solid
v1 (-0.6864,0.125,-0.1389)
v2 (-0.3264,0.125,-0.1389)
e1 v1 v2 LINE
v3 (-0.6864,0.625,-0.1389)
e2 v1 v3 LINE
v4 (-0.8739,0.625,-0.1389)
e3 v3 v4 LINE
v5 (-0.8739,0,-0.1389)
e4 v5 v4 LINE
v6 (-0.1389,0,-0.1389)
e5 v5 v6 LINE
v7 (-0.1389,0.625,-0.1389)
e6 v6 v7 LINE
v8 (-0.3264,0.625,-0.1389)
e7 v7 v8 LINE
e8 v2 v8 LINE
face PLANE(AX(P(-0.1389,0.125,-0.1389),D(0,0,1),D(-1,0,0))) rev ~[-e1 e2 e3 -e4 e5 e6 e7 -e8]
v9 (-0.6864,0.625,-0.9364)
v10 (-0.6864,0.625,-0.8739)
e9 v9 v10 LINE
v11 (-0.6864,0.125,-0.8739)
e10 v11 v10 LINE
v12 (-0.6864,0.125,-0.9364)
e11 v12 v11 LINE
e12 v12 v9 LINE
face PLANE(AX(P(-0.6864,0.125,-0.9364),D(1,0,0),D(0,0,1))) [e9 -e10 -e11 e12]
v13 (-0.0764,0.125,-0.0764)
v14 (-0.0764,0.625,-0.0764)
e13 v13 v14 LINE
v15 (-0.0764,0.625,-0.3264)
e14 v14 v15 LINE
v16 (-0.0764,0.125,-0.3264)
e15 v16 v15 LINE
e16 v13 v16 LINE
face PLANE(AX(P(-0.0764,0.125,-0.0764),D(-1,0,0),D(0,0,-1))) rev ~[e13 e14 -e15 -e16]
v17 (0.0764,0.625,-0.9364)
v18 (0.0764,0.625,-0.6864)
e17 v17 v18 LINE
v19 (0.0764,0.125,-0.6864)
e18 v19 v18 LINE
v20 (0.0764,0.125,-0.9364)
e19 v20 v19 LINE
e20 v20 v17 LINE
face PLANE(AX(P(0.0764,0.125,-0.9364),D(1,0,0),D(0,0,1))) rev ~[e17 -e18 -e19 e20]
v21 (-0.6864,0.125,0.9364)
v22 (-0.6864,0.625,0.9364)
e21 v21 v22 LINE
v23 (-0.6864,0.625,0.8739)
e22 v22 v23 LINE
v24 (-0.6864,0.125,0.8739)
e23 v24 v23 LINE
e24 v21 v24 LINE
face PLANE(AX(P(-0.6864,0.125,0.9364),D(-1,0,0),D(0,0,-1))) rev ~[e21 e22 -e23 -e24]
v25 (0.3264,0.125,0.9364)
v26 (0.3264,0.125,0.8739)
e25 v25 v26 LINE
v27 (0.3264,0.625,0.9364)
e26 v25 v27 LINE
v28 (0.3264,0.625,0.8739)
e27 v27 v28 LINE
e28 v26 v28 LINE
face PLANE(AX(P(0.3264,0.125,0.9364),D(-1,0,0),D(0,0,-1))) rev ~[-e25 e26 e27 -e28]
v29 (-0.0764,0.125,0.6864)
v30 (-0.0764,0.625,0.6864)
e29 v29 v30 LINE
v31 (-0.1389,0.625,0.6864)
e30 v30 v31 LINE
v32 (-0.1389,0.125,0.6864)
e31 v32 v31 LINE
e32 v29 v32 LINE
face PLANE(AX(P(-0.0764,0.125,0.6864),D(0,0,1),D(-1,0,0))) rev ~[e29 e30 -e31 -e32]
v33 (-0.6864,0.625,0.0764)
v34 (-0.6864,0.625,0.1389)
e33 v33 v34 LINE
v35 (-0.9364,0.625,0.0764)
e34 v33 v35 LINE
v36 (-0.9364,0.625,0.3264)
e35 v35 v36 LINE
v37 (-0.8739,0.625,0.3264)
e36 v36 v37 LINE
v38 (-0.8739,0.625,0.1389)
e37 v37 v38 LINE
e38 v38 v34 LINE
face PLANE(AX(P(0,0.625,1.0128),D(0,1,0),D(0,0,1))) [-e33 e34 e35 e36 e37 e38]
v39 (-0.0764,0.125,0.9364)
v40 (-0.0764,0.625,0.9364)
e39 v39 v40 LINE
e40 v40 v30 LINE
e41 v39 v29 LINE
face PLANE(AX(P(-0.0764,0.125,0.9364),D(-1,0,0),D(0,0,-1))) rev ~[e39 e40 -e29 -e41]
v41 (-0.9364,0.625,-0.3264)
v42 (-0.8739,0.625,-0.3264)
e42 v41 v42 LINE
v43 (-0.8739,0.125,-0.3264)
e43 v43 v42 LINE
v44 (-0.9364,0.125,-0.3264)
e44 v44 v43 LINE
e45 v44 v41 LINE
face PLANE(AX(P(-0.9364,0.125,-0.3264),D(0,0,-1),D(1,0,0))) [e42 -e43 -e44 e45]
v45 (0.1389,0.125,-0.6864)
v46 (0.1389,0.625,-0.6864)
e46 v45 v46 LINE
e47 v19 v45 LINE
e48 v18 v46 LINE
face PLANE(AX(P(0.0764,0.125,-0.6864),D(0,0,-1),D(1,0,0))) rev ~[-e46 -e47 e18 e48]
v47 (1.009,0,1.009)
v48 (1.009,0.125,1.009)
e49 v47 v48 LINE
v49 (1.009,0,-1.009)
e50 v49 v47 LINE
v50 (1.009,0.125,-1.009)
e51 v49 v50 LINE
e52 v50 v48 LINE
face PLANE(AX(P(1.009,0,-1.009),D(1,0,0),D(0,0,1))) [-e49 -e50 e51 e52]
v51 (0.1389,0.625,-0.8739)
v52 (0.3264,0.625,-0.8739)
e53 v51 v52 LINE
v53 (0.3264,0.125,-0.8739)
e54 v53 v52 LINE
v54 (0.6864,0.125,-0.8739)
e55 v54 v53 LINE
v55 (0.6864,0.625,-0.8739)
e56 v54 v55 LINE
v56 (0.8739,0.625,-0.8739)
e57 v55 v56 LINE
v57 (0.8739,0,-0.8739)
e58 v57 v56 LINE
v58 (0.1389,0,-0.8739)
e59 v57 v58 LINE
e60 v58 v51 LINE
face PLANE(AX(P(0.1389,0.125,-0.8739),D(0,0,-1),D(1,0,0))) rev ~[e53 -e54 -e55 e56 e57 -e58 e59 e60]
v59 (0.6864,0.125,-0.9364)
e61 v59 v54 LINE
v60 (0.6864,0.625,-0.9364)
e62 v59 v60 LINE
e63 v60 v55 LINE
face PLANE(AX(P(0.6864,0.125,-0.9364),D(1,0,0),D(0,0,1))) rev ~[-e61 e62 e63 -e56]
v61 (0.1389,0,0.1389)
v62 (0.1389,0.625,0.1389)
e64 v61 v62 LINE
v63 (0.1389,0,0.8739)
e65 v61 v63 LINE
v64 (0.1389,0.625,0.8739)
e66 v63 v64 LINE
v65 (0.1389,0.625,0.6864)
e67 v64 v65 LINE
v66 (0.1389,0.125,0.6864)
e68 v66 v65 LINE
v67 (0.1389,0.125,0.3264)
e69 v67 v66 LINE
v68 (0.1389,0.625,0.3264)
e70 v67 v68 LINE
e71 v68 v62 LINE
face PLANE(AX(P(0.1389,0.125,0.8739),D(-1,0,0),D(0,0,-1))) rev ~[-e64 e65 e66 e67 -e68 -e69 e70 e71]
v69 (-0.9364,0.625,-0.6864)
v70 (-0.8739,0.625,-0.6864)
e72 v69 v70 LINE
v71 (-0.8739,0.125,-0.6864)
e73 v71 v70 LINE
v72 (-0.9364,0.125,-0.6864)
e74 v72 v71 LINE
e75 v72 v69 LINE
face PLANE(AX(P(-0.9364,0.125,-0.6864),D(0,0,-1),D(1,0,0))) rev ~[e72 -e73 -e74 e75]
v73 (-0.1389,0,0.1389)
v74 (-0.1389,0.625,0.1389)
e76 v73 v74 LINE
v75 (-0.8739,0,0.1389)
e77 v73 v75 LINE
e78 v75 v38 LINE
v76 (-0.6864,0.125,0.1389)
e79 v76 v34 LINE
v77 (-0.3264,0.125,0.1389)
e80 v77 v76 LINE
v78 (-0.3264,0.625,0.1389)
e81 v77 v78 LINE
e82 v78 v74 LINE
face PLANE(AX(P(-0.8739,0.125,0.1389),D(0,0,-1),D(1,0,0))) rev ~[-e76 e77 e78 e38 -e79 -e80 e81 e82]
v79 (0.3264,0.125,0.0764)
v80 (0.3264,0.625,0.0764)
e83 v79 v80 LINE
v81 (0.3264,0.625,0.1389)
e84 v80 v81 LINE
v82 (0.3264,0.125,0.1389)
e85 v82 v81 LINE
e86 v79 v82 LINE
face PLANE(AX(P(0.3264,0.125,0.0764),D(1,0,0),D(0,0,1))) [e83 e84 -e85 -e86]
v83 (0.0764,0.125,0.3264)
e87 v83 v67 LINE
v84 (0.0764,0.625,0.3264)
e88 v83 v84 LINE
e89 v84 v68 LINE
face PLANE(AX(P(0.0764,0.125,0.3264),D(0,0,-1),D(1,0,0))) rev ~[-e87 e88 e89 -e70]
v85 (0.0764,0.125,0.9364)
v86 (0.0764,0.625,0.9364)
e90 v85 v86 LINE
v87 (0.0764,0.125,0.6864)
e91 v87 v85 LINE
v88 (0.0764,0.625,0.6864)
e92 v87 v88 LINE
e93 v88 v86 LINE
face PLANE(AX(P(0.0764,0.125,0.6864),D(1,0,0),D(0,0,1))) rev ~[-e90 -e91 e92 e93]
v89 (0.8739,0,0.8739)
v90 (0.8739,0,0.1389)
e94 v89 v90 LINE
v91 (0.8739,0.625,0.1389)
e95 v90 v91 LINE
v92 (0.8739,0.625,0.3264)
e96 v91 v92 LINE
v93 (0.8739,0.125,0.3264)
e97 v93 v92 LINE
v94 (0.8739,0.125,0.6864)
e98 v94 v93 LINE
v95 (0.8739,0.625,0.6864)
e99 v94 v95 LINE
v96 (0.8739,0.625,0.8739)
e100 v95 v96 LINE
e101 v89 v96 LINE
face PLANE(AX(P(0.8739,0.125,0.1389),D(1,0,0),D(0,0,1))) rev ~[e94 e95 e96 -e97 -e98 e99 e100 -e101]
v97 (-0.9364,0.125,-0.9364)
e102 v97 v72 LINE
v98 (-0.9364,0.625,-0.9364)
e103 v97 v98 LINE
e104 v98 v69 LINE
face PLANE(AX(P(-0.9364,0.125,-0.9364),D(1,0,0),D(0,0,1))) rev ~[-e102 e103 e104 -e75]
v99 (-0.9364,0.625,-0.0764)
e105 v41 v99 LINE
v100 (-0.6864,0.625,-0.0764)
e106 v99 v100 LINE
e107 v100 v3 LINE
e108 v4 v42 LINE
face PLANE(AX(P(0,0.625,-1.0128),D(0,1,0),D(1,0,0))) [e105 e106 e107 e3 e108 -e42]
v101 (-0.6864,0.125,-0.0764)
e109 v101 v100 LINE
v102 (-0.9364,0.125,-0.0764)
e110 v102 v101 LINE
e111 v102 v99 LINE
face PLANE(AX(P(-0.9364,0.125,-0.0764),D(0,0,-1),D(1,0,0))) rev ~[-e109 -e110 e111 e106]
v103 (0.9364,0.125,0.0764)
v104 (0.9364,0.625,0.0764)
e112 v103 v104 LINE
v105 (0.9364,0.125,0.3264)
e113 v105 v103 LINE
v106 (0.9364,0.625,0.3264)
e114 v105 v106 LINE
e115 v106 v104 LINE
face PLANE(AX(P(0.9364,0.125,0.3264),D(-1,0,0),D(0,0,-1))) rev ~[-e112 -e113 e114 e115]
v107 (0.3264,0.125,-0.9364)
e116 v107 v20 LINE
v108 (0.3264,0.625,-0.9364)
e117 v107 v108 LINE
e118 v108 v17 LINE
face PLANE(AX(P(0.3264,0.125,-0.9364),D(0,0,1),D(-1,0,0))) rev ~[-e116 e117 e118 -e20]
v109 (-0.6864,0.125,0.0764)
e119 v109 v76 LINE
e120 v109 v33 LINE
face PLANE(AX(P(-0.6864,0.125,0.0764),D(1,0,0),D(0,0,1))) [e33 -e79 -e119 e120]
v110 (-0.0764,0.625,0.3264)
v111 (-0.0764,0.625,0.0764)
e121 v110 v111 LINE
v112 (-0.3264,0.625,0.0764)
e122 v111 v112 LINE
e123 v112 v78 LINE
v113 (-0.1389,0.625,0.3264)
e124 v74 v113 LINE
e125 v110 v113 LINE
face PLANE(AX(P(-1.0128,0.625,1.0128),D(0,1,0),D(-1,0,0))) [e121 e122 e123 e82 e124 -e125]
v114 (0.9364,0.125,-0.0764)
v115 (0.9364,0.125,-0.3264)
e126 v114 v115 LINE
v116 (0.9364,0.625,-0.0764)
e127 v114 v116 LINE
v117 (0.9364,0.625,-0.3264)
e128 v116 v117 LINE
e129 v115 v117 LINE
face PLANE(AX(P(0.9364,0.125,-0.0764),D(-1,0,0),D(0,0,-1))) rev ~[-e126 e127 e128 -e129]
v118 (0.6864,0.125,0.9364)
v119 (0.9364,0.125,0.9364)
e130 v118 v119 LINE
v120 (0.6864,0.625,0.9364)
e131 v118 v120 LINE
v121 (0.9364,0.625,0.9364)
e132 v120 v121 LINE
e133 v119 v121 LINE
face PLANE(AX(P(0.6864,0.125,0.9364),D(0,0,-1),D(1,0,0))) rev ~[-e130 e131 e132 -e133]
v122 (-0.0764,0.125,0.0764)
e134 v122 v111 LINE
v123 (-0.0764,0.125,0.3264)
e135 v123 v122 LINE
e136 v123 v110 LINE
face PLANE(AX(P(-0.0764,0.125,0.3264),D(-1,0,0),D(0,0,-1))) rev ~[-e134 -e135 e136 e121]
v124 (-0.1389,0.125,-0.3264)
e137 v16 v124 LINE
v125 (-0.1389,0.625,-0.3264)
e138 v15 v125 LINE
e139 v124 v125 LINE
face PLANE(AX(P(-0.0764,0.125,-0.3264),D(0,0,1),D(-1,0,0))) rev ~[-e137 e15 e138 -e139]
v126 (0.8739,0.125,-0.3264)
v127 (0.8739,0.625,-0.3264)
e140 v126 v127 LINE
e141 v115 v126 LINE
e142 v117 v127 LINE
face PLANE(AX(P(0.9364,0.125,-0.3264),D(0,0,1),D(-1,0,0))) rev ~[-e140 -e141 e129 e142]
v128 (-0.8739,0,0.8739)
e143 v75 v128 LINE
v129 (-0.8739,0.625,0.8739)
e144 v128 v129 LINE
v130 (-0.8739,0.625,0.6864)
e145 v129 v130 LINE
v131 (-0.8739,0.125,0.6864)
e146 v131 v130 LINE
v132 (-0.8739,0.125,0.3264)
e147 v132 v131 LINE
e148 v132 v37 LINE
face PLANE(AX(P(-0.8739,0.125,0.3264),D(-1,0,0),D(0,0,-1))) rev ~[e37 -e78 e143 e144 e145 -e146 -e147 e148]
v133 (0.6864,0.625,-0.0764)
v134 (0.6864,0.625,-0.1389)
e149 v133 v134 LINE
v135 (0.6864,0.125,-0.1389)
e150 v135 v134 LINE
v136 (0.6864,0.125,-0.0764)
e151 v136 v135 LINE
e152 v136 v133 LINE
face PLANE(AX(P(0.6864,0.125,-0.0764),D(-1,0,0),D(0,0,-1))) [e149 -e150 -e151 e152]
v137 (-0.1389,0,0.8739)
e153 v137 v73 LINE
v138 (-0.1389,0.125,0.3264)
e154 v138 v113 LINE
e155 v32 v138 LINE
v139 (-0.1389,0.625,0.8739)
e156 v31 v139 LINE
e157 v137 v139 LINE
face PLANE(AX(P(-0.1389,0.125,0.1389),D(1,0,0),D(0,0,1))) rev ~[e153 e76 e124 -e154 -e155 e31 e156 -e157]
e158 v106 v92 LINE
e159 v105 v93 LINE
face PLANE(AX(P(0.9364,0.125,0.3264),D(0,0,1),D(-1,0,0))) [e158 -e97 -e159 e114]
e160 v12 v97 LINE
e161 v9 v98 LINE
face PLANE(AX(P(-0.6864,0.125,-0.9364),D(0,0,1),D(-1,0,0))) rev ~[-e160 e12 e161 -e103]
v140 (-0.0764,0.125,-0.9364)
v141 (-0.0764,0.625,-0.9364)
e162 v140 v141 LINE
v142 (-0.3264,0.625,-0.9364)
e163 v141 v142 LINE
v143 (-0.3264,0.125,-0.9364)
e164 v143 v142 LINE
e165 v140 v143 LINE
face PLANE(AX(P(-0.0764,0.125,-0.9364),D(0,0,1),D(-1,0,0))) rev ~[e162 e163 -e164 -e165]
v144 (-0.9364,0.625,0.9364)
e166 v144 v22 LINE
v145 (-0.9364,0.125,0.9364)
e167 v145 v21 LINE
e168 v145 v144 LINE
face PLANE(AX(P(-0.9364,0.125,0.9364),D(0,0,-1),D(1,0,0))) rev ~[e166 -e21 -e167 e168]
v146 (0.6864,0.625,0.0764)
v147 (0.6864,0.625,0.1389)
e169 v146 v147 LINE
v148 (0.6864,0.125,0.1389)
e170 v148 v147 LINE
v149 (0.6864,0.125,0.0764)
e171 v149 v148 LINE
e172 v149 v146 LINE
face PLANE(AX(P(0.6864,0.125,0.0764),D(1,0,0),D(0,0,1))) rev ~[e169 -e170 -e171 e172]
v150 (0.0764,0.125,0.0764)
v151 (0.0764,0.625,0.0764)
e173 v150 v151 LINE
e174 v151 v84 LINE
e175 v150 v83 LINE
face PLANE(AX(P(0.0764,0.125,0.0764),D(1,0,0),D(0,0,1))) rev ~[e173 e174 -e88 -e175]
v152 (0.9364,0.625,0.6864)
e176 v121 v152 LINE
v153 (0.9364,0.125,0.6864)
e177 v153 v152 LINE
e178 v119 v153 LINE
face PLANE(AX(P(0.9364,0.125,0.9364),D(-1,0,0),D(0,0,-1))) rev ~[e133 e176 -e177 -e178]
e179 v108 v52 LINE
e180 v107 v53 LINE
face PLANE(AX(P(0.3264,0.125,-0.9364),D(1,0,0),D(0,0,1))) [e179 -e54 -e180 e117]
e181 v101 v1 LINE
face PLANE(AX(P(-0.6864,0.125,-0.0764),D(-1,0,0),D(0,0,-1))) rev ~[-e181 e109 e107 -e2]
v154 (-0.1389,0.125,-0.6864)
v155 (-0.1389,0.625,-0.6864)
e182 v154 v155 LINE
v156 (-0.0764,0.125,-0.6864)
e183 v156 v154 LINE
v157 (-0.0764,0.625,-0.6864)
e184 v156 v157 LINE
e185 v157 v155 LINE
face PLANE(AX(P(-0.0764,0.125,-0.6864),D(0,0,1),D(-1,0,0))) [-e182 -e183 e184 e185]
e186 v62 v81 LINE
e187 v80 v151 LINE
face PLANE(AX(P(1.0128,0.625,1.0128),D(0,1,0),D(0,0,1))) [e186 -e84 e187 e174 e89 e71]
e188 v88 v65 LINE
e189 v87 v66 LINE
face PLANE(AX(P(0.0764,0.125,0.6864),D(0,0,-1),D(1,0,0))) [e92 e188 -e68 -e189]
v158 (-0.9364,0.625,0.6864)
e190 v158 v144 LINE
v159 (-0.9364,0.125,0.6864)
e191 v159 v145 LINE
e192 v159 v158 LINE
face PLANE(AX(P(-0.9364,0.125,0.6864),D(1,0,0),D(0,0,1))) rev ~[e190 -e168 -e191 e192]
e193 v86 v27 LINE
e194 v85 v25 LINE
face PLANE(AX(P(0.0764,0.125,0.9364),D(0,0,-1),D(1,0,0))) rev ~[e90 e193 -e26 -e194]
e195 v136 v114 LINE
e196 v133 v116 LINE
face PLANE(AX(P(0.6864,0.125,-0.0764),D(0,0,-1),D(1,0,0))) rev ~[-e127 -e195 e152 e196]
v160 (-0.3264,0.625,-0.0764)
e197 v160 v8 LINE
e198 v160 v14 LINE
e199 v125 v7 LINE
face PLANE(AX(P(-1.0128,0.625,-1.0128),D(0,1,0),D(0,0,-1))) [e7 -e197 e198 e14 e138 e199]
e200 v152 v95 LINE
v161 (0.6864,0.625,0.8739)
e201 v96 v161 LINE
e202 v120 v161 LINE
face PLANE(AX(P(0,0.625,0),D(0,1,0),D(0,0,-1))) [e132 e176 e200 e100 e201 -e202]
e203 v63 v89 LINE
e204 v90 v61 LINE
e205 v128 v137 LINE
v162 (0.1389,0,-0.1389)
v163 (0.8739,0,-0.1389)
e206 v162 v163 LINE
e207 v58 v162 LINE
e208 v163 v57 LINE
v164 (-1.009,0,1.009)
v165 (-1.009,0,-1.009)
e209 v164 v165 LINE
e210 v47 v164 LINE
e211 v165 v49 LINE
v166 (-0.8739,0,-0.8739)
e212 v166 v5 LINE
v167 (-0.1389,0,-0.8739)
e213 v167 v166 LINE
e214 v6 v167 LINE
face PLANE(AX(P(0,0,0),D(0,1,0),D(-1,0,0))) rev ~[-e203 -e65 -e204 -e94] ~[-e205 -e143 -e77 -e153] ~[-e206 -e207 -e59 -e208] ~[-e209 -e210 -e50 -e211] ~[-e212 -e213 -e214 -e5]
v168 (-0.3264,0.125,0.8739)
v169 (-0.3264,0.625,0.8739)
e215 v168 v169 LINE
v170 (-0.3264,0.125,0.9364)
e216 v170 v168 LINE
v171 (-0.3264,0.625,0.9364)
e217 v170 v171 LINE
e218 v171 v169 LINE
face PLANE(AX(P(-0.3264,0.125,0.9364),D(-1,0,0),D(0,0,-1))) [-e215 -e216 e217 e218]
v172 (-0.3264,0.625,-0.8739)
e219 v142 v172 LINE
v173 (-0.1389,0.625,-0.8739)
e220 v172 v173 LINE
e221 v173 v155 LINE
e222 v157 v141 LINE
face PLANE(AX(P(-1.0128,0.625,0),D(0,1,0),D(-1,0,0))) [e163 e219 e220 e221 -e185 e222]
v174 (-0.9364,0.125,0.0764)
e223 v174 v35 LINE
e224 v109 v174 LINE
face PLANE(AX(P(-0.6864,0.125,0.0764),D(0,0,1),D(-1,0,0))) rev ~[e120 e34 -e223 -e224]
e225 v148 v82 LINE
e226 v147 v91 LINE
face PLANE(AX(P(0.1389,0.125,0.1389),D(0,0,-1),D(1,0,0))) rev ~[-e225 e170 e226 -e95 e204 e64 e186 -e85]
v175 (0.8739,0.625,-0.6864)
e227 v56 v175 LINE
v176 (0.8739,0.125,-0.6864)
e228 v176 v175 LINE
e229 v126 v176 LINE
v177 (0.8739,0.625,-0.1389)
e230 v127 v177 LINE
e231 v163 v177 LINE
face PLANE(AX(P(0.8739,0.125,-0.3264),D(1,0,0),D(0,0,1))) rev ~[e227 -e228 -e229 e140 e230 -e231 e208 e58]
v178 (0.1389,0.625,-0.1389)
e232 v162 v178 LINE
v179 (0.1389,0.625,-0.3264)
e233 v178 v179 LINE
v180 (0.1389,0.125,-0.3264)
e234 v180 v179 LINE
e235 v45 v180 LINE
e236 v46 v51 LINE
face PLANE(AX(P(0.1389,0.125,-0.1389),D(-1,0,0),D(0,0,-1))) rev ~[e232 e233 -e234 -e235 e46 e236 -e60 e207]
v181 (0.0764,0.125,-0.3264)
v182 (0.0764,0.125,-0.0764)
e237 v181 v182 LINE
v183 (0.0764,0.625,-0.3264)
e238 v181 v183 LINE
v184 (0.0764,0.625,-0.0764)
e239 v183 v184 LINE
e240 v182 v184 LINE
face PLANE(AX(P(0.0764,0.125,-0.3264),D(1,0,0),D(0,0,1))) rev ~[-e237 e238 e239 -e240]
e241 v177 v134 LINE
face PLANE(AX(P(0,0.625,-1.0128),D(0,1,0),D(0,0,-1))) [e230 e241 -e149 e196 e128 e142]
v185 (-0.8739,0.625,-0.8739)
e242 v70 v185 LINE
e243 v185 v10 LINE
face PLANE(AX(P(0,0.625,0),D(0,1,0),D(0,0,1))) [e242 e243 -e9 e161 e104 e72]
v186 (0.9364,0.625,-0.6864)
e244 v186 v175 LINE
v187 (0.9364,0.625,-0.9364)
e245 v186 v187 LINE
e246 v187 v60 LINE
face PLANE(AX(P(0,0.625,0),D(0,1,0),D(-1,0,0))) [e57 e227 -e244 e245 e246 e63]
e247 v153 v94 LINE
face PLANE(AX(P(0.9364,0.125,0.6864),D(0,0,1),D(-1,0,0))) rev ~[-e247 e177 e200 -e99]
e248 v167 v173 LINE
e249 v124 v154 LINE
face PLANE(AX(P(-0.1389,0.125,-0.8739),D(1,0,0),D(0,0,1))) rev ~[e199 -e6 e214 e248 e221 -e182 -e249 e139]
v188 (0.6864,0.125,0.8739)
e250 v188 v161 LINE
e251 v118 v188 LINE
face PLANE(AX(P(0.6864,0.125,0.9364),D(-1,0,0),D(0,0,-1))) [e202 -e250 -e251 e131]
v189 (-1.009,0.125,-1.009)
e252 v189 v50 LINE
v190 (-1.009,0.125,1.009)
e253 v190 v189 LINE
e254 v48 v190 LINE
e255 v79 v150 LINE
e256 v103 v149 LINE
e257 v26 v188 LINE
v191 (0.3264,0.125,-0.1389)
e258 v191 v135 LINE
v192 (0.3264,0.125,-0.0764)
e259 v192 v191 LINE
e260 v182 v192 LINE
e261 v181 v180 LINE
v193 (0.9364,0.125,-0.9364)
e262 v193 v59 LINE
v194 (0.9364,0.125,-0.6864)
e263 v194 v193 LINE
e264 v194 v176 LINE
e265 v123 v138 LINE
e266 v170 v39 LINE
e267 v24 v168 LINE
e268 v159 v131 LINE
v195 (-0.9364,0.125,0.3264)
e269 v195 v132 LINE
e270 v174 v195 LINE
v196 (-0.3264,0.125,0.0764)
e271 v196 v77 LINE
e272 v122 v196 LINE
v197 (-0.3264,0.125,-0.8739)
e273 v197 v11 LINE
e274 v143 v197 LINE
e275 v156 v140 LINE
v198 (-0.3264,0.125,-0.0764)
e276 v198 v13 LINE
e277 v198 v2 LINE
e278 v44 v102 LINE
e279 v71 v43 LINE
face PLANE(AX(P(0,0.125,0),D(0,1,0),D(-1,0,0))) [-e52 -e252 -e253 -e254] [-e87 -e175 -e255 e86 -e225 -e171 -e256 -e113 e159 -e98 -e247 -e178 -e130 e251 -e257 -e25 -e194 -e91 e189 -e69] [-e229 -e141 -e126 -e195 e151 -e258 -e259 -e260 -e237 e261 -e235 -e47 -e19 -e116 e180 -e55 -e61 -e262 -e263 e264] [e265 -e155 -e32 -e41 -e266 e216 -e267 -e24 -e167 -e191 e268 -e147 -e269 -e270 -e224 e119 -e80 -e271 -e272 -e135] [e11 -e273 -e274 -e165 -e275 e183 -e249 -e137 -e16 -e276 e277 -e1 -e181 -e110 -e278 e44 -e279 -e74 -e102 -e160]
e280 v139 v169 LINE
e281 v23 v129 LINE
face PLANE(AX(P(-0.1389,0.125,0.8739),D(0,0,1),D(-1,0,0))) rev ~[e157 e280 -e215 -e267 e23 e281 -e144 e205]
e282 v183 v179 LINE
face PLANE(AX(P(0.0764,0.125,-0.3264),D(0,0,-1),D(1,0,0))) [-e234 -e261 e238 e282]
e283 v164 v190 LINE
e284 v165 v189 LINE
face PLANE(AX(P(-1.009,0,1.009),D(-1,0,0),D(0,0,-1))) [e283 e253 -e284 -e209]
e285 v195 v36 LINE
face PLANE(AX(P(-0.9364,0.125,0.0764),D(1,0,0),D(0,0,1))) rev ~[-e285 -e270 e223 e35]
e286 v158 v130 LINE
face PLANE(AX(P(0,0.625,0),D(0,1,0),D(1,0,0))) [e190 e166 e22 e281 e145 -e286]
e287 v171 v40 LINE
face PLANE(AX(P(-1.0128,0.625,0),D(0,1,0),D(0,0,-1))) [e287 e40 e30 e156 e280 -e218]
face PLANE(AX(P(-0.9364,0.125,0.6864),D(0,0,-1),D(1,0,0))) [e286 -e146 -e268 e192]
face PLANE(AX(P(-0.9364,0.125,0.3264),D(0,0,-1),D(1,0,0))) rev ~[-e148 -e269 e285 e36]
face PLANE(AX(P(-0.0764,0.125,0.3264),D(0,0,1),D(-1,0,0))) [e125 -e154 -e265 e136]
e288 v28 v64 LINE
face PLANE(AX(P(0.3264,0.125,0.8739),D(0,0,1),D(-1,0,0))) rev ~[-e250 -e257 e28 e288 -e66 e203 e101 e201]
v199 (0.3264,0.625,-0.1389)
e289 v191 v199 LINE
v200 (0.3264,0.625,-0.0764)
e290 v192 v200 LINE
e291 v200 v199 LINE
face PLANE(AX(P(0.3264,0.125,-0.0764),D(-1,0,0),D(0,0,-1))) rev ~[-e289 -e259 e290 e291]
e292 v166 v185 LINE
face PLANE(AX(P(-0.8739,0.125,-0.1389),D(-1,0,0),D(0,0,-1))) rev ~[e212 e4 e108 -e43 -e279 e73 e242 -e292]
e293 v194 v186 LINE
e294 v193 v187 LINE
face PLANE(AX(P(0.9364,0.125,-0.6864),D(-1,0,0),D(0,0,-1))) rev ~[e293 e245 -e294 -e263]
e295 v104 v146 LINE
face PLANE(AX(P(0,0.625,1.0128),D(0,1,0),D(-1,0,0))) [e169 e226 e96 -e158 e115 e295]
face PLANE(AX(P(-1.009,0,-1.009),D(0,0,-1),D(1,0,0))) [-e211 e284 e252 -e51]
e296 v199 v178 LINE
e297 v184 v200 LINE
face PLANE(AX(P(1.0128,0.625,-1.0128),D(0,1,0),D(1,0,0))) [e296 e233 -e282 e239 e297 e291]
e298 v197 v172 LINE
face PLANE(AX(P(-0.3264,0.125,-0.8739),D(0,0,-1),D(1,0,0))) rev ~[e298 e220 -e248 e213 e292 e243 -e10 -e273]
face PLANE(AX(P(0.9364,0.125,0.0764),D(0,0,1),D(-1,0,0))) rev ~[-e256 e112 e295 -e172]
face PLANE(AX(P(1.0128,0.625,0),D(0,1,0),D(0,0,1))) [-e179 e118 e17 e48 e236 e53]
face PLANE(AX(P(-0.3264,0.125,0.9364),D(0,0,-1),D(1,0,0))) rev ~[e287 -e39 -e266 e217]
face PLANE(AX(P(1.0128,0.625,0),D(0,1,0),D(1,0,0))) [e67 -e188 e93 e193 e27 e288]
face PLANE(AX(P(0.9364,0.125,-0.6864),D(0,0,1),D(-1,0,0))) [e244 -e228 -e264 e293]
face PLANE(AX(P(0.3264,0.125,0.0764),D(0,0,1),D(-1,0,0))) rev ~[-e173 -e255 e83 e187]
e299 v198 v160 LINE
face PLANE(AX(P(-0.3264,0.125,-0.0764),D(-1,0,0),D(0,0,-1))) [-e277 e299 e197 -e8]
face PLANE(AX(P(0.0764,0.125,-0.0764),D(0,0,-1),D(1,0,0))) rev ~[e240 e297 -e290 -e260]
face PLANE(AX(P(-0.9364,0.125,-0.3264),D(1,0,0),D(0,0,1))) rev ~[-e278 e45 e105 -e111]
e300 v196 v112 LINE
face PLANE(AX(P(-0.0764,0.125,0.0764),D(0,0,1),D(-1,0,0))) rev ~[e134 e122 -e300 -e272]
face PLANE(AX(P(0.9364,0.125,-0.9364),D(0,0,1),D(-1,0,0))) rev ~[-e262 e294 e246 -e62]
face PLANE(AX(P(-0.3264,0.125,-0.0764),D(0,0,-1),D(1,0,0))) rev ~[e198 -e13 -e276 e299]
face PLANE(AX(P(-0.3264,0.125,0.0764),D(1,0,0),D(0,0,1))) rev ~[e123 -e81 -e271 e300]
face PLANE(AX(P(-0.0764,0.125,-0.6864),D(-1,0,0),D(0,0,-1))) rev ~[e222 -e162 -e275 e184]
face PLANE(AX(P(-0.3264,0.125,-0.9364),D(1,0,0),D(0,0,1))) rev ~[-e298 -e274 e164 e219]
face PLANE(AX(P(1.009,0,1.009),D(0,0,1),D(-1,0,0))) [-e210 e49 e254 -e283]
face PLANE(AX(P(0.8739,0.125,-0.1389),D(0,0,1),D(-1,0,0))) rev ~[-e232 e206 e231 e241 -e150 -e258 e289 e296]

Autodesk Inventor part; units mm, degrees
ref_plane "YZ Plane" through (0, 0, 0) normal (1, 0, 0) x (0, 1, 0)
ref_plane "XZ Plane" through (0, 0, 0) normal (0, 1, 0) x (-1, 0, 0)
ref_plane "XY Plane" through (0, 0, 0) normal (0, 0, 1) x (1, 0, 0)
sketch "Sketch1" plane through (0, 0, 0) normal (0, 1, 0) x (-1, 0, 0)
  line L0 (-1.009, 1.009) -> (1.009, 1.009)
  line L1 (1.009, 1.009) -> (1.009, -1.009)
  line L2 (1.009, -1.009) -> (-1.009, -1.009)
  line L3 (-1.009, -1.009) -> (-1.009, 1.009)
  line L4 (-1.009, 1.009) -> (1.009, -1.009) construction
  line L5 (1.009, 1.009) -> (-1.009, -1.009) construction
  line L6 (0.9364, 0.9364) -> (0.0764, 0.9364)
  line L7 (0.0764, 0.9364) -> (0.0764, 0.0764)
  line L8 (0.0764, 0.0764) -> (0.9364, 0.0764)
  line L9 (0.9364, 0.0764) -> (0.9364, 0.9364)
  line L10 (0, 0) -> (0.3282, 0)
  line L11 (0.8739, 0.8739) -> (0.1389, 0.8739)
  line L12 (0.1389, 0.8739) -> (0.1389, 0.1389)
  line L13 (0.1389, 0.1389) -> (0.8739, 0.1389)
  line L14 (0.8739, 0.1389) -> (0.8739, 0.8739)
  line L15 (-1.009, 1.009) -> (1.009, -1.009) construction
  line L16 (-0.0764, 0.9364) -> (-0.9364, 0.9364)
  line L17 (-0.1389, 0.8739) -> (-0.8739, 0.8739)
  line L18 (-0.8739, 0.8739) -> (-0.8739, 0.1389)
  line L19 (-0.8739, 0.1389) -> (-0.1389, 0.1389)
  line L20 (-0.9364, 0.9364) -> (-0.9364, 0.0764)
  line L21 (-0.9364, 0.0764) -> (-0.0764, 0.0764)
  line L22 (-0.0764, 0.0764) -> (-0.0764, 0.9364)
  line L23 (-0.1389, 0.1389) -> (-0.1389, 0.8739)
  line L24 (-1.009, -1.009) -> (1.009, 1.009) construction
  line L25 (-0.9364, -0.0764) -> (-0.9364, -0.9364)
  line L26 (-0.8739, -0.1389) -> (-0.8739, -0.8739)
  line L27 (-0.8739, -0.8739) -> (-0.1389, -0.8739)
  line L28 (-0.1389, -0.8739) -> (-0.1389, -0.1389)
  line L29 (-0.9364, -0.9364) -> (-0.0764, -0.9364)
  line L30 (-0.0764, -0.9364) -> (-0.0764, -0.0764)
  line L31 (-0.0764, -0.0764) -> (-0.9364, -0.0764)
  line L32 (-0.1389, -0.1389) -> (-0.8739, -0.1389)
  line L33 (1.009, -1.009) -> (-1.009, 1.009) construction
  line L34 (0.0764, -0.9364) -> (0.9364, -0.9364)
  line L35 (0.1389, -0.8739) -> (0.8739, -0.8739)
  line L36 (0.8739, -0.8739) -> (0.8739, -0.1389)
  line L37 (0.8739, -0.1389) -> (0.1389, -0.1389)
  line L38 (0.9364, -0.9364) -> (0.9364, -0.0764)
  line L39 (0.9364, -0.0764) -> (0.0764, -0.0764)
  line L40 (0.0764, -0.0764) -> (0.0764, -0.9364)
  line L41 (0.1389, -0.1389) -> (0.1389, -0.8739)
  dimension "d0" = 2.018
  dimension "d2" = 0.1529
  dimension "d3" = 0.86
  dimension "d4" = 0.0625
  dimension "d7" = 360
extrude "Extrusion1" add sketch "Sketch1" along normal blind 0.125 contours L0 L1 L2 L3 | L9 L8 L7 L6 | L22 L21 L20 L16 | L31 L30 L29 L25 | L40 L39 L38 L34
sketch "Sketch2" plane through (0, 0.125, 0) normal (0, 1, 0) x (1, 0, 0)
  line L0 (1.009, 1.009) -> (-1.009, 1.009) projected
  line L1 (-1.009, 1.009) -> (-1.009, -1.009) projected
  line L2 (-1.009, -1.009) -> (1.009, -1.009) projected
  line L3 (1.009, -1.009) -> (1.009, 1.009) projected
  line L4 (-0.8739, -0.8739) -> (-0.8739, -0.1389) projected
  line L5 (-0.8739, -0.1389) -> (-0.1389, -0.1389) projected
  line L6 (-0.1389, -0.1389) -> (-0.1389, -0.8739) projected
  line L7 (-0.1389, -0.8739) -> (-0.8739, -0.8739) projected
  line L8 (0.1389, -0.8739) -> (0.1389, -0.1389) projected
  line L9 (0.1389, -0.1389) -> (0.8739, -0.1389) projected
  line L10 (0.8739, -0.1389) -> (0.8739, -0.8739) projected
  line L11 (0.8739, -0.8739) -> (0.1389, -0.8739) projected
  line L12 (0.8739, 0.1389) -> (0.1389, 0.1389) projected
  line L13 (0.1389, 0.1389) -> (0.1389, 0.8739) projected
  line L14 (0.1389, 0.8739) -> (0.8739, 0.8739) projected
  line L15 (0.8739, 0.8739) -> (0.8739, 0.1389) projected
  line L16 (-0.1389, 0.8739) -> (-0.1389, 0.1389) projected
  line L17 (-0.1389, 0.1389) -> (-0.8739, 0.1389) projected
  line L18 (-0.8739, 0.1389) -> (-0.8739, 0.8739) projected
  line L19 (-0.8739, 0.8739) -> (-0.1389, 0.8739) projected
  line L20 (-0.9364, -0.0764) -> (-0.9364, -0.9364)
  line L21 (-0.9364, -0.9364) -> (-0.0764, -0.9364)
  line L22 (-0.0764, -0.9364) -> (-0.0764, -0.0764)
  line L23 (-0.0764, -0.0764) -> (-0.9364, -0.0764)
  line L24 (-0.9364, -0.6864) -> (-0.8739, -0.6864)
  line L25 (-0.6864, -0.9364) -> (-0.6864, -0.8739)
  point P0 (0, 0)
  point P1 (-0.9052, -0.6864)
  dimension "d11" = 0.0625
  dimension "d12" = 0.25
  dimension "d13" = 0.25
extrude "Extrusion2" add sketch "Sketch2" along normal blind 0.5 contours L7 L25 L21 L20 L24 L4
sketch "Sketch3" plane through (0, 0.125, 0) normal (0, 1, 0) x (1, 0, 0)
  line L0 (-0.1389, -0.1389) -> (-0.1389, -0.8739) projected
  line L1 (-0.8739, -0.1389) -> (-0.1389, -0.1389) projected
  line L2 (-0.1389, -0.8739) -> (-0.8739, -0.1389) construction
  line L3 (-0.5064, -0.5064) -> (-0.1389, -0.1389) construction
  point P0 (0, 0)
pattern_circular "Circular Pattern1" count 4 over 360 about axis through (-0.5064, 0.125, 0.5064) along (0, 1, 0) of "Extrusion2"
pattern_circular "Circular Pattern2" count 4 over 360 about axis through (0, -10, 0) along (0, 1, 0) of "Extrusion2", "Circular Pattern1"
properties part number "retainer test"
